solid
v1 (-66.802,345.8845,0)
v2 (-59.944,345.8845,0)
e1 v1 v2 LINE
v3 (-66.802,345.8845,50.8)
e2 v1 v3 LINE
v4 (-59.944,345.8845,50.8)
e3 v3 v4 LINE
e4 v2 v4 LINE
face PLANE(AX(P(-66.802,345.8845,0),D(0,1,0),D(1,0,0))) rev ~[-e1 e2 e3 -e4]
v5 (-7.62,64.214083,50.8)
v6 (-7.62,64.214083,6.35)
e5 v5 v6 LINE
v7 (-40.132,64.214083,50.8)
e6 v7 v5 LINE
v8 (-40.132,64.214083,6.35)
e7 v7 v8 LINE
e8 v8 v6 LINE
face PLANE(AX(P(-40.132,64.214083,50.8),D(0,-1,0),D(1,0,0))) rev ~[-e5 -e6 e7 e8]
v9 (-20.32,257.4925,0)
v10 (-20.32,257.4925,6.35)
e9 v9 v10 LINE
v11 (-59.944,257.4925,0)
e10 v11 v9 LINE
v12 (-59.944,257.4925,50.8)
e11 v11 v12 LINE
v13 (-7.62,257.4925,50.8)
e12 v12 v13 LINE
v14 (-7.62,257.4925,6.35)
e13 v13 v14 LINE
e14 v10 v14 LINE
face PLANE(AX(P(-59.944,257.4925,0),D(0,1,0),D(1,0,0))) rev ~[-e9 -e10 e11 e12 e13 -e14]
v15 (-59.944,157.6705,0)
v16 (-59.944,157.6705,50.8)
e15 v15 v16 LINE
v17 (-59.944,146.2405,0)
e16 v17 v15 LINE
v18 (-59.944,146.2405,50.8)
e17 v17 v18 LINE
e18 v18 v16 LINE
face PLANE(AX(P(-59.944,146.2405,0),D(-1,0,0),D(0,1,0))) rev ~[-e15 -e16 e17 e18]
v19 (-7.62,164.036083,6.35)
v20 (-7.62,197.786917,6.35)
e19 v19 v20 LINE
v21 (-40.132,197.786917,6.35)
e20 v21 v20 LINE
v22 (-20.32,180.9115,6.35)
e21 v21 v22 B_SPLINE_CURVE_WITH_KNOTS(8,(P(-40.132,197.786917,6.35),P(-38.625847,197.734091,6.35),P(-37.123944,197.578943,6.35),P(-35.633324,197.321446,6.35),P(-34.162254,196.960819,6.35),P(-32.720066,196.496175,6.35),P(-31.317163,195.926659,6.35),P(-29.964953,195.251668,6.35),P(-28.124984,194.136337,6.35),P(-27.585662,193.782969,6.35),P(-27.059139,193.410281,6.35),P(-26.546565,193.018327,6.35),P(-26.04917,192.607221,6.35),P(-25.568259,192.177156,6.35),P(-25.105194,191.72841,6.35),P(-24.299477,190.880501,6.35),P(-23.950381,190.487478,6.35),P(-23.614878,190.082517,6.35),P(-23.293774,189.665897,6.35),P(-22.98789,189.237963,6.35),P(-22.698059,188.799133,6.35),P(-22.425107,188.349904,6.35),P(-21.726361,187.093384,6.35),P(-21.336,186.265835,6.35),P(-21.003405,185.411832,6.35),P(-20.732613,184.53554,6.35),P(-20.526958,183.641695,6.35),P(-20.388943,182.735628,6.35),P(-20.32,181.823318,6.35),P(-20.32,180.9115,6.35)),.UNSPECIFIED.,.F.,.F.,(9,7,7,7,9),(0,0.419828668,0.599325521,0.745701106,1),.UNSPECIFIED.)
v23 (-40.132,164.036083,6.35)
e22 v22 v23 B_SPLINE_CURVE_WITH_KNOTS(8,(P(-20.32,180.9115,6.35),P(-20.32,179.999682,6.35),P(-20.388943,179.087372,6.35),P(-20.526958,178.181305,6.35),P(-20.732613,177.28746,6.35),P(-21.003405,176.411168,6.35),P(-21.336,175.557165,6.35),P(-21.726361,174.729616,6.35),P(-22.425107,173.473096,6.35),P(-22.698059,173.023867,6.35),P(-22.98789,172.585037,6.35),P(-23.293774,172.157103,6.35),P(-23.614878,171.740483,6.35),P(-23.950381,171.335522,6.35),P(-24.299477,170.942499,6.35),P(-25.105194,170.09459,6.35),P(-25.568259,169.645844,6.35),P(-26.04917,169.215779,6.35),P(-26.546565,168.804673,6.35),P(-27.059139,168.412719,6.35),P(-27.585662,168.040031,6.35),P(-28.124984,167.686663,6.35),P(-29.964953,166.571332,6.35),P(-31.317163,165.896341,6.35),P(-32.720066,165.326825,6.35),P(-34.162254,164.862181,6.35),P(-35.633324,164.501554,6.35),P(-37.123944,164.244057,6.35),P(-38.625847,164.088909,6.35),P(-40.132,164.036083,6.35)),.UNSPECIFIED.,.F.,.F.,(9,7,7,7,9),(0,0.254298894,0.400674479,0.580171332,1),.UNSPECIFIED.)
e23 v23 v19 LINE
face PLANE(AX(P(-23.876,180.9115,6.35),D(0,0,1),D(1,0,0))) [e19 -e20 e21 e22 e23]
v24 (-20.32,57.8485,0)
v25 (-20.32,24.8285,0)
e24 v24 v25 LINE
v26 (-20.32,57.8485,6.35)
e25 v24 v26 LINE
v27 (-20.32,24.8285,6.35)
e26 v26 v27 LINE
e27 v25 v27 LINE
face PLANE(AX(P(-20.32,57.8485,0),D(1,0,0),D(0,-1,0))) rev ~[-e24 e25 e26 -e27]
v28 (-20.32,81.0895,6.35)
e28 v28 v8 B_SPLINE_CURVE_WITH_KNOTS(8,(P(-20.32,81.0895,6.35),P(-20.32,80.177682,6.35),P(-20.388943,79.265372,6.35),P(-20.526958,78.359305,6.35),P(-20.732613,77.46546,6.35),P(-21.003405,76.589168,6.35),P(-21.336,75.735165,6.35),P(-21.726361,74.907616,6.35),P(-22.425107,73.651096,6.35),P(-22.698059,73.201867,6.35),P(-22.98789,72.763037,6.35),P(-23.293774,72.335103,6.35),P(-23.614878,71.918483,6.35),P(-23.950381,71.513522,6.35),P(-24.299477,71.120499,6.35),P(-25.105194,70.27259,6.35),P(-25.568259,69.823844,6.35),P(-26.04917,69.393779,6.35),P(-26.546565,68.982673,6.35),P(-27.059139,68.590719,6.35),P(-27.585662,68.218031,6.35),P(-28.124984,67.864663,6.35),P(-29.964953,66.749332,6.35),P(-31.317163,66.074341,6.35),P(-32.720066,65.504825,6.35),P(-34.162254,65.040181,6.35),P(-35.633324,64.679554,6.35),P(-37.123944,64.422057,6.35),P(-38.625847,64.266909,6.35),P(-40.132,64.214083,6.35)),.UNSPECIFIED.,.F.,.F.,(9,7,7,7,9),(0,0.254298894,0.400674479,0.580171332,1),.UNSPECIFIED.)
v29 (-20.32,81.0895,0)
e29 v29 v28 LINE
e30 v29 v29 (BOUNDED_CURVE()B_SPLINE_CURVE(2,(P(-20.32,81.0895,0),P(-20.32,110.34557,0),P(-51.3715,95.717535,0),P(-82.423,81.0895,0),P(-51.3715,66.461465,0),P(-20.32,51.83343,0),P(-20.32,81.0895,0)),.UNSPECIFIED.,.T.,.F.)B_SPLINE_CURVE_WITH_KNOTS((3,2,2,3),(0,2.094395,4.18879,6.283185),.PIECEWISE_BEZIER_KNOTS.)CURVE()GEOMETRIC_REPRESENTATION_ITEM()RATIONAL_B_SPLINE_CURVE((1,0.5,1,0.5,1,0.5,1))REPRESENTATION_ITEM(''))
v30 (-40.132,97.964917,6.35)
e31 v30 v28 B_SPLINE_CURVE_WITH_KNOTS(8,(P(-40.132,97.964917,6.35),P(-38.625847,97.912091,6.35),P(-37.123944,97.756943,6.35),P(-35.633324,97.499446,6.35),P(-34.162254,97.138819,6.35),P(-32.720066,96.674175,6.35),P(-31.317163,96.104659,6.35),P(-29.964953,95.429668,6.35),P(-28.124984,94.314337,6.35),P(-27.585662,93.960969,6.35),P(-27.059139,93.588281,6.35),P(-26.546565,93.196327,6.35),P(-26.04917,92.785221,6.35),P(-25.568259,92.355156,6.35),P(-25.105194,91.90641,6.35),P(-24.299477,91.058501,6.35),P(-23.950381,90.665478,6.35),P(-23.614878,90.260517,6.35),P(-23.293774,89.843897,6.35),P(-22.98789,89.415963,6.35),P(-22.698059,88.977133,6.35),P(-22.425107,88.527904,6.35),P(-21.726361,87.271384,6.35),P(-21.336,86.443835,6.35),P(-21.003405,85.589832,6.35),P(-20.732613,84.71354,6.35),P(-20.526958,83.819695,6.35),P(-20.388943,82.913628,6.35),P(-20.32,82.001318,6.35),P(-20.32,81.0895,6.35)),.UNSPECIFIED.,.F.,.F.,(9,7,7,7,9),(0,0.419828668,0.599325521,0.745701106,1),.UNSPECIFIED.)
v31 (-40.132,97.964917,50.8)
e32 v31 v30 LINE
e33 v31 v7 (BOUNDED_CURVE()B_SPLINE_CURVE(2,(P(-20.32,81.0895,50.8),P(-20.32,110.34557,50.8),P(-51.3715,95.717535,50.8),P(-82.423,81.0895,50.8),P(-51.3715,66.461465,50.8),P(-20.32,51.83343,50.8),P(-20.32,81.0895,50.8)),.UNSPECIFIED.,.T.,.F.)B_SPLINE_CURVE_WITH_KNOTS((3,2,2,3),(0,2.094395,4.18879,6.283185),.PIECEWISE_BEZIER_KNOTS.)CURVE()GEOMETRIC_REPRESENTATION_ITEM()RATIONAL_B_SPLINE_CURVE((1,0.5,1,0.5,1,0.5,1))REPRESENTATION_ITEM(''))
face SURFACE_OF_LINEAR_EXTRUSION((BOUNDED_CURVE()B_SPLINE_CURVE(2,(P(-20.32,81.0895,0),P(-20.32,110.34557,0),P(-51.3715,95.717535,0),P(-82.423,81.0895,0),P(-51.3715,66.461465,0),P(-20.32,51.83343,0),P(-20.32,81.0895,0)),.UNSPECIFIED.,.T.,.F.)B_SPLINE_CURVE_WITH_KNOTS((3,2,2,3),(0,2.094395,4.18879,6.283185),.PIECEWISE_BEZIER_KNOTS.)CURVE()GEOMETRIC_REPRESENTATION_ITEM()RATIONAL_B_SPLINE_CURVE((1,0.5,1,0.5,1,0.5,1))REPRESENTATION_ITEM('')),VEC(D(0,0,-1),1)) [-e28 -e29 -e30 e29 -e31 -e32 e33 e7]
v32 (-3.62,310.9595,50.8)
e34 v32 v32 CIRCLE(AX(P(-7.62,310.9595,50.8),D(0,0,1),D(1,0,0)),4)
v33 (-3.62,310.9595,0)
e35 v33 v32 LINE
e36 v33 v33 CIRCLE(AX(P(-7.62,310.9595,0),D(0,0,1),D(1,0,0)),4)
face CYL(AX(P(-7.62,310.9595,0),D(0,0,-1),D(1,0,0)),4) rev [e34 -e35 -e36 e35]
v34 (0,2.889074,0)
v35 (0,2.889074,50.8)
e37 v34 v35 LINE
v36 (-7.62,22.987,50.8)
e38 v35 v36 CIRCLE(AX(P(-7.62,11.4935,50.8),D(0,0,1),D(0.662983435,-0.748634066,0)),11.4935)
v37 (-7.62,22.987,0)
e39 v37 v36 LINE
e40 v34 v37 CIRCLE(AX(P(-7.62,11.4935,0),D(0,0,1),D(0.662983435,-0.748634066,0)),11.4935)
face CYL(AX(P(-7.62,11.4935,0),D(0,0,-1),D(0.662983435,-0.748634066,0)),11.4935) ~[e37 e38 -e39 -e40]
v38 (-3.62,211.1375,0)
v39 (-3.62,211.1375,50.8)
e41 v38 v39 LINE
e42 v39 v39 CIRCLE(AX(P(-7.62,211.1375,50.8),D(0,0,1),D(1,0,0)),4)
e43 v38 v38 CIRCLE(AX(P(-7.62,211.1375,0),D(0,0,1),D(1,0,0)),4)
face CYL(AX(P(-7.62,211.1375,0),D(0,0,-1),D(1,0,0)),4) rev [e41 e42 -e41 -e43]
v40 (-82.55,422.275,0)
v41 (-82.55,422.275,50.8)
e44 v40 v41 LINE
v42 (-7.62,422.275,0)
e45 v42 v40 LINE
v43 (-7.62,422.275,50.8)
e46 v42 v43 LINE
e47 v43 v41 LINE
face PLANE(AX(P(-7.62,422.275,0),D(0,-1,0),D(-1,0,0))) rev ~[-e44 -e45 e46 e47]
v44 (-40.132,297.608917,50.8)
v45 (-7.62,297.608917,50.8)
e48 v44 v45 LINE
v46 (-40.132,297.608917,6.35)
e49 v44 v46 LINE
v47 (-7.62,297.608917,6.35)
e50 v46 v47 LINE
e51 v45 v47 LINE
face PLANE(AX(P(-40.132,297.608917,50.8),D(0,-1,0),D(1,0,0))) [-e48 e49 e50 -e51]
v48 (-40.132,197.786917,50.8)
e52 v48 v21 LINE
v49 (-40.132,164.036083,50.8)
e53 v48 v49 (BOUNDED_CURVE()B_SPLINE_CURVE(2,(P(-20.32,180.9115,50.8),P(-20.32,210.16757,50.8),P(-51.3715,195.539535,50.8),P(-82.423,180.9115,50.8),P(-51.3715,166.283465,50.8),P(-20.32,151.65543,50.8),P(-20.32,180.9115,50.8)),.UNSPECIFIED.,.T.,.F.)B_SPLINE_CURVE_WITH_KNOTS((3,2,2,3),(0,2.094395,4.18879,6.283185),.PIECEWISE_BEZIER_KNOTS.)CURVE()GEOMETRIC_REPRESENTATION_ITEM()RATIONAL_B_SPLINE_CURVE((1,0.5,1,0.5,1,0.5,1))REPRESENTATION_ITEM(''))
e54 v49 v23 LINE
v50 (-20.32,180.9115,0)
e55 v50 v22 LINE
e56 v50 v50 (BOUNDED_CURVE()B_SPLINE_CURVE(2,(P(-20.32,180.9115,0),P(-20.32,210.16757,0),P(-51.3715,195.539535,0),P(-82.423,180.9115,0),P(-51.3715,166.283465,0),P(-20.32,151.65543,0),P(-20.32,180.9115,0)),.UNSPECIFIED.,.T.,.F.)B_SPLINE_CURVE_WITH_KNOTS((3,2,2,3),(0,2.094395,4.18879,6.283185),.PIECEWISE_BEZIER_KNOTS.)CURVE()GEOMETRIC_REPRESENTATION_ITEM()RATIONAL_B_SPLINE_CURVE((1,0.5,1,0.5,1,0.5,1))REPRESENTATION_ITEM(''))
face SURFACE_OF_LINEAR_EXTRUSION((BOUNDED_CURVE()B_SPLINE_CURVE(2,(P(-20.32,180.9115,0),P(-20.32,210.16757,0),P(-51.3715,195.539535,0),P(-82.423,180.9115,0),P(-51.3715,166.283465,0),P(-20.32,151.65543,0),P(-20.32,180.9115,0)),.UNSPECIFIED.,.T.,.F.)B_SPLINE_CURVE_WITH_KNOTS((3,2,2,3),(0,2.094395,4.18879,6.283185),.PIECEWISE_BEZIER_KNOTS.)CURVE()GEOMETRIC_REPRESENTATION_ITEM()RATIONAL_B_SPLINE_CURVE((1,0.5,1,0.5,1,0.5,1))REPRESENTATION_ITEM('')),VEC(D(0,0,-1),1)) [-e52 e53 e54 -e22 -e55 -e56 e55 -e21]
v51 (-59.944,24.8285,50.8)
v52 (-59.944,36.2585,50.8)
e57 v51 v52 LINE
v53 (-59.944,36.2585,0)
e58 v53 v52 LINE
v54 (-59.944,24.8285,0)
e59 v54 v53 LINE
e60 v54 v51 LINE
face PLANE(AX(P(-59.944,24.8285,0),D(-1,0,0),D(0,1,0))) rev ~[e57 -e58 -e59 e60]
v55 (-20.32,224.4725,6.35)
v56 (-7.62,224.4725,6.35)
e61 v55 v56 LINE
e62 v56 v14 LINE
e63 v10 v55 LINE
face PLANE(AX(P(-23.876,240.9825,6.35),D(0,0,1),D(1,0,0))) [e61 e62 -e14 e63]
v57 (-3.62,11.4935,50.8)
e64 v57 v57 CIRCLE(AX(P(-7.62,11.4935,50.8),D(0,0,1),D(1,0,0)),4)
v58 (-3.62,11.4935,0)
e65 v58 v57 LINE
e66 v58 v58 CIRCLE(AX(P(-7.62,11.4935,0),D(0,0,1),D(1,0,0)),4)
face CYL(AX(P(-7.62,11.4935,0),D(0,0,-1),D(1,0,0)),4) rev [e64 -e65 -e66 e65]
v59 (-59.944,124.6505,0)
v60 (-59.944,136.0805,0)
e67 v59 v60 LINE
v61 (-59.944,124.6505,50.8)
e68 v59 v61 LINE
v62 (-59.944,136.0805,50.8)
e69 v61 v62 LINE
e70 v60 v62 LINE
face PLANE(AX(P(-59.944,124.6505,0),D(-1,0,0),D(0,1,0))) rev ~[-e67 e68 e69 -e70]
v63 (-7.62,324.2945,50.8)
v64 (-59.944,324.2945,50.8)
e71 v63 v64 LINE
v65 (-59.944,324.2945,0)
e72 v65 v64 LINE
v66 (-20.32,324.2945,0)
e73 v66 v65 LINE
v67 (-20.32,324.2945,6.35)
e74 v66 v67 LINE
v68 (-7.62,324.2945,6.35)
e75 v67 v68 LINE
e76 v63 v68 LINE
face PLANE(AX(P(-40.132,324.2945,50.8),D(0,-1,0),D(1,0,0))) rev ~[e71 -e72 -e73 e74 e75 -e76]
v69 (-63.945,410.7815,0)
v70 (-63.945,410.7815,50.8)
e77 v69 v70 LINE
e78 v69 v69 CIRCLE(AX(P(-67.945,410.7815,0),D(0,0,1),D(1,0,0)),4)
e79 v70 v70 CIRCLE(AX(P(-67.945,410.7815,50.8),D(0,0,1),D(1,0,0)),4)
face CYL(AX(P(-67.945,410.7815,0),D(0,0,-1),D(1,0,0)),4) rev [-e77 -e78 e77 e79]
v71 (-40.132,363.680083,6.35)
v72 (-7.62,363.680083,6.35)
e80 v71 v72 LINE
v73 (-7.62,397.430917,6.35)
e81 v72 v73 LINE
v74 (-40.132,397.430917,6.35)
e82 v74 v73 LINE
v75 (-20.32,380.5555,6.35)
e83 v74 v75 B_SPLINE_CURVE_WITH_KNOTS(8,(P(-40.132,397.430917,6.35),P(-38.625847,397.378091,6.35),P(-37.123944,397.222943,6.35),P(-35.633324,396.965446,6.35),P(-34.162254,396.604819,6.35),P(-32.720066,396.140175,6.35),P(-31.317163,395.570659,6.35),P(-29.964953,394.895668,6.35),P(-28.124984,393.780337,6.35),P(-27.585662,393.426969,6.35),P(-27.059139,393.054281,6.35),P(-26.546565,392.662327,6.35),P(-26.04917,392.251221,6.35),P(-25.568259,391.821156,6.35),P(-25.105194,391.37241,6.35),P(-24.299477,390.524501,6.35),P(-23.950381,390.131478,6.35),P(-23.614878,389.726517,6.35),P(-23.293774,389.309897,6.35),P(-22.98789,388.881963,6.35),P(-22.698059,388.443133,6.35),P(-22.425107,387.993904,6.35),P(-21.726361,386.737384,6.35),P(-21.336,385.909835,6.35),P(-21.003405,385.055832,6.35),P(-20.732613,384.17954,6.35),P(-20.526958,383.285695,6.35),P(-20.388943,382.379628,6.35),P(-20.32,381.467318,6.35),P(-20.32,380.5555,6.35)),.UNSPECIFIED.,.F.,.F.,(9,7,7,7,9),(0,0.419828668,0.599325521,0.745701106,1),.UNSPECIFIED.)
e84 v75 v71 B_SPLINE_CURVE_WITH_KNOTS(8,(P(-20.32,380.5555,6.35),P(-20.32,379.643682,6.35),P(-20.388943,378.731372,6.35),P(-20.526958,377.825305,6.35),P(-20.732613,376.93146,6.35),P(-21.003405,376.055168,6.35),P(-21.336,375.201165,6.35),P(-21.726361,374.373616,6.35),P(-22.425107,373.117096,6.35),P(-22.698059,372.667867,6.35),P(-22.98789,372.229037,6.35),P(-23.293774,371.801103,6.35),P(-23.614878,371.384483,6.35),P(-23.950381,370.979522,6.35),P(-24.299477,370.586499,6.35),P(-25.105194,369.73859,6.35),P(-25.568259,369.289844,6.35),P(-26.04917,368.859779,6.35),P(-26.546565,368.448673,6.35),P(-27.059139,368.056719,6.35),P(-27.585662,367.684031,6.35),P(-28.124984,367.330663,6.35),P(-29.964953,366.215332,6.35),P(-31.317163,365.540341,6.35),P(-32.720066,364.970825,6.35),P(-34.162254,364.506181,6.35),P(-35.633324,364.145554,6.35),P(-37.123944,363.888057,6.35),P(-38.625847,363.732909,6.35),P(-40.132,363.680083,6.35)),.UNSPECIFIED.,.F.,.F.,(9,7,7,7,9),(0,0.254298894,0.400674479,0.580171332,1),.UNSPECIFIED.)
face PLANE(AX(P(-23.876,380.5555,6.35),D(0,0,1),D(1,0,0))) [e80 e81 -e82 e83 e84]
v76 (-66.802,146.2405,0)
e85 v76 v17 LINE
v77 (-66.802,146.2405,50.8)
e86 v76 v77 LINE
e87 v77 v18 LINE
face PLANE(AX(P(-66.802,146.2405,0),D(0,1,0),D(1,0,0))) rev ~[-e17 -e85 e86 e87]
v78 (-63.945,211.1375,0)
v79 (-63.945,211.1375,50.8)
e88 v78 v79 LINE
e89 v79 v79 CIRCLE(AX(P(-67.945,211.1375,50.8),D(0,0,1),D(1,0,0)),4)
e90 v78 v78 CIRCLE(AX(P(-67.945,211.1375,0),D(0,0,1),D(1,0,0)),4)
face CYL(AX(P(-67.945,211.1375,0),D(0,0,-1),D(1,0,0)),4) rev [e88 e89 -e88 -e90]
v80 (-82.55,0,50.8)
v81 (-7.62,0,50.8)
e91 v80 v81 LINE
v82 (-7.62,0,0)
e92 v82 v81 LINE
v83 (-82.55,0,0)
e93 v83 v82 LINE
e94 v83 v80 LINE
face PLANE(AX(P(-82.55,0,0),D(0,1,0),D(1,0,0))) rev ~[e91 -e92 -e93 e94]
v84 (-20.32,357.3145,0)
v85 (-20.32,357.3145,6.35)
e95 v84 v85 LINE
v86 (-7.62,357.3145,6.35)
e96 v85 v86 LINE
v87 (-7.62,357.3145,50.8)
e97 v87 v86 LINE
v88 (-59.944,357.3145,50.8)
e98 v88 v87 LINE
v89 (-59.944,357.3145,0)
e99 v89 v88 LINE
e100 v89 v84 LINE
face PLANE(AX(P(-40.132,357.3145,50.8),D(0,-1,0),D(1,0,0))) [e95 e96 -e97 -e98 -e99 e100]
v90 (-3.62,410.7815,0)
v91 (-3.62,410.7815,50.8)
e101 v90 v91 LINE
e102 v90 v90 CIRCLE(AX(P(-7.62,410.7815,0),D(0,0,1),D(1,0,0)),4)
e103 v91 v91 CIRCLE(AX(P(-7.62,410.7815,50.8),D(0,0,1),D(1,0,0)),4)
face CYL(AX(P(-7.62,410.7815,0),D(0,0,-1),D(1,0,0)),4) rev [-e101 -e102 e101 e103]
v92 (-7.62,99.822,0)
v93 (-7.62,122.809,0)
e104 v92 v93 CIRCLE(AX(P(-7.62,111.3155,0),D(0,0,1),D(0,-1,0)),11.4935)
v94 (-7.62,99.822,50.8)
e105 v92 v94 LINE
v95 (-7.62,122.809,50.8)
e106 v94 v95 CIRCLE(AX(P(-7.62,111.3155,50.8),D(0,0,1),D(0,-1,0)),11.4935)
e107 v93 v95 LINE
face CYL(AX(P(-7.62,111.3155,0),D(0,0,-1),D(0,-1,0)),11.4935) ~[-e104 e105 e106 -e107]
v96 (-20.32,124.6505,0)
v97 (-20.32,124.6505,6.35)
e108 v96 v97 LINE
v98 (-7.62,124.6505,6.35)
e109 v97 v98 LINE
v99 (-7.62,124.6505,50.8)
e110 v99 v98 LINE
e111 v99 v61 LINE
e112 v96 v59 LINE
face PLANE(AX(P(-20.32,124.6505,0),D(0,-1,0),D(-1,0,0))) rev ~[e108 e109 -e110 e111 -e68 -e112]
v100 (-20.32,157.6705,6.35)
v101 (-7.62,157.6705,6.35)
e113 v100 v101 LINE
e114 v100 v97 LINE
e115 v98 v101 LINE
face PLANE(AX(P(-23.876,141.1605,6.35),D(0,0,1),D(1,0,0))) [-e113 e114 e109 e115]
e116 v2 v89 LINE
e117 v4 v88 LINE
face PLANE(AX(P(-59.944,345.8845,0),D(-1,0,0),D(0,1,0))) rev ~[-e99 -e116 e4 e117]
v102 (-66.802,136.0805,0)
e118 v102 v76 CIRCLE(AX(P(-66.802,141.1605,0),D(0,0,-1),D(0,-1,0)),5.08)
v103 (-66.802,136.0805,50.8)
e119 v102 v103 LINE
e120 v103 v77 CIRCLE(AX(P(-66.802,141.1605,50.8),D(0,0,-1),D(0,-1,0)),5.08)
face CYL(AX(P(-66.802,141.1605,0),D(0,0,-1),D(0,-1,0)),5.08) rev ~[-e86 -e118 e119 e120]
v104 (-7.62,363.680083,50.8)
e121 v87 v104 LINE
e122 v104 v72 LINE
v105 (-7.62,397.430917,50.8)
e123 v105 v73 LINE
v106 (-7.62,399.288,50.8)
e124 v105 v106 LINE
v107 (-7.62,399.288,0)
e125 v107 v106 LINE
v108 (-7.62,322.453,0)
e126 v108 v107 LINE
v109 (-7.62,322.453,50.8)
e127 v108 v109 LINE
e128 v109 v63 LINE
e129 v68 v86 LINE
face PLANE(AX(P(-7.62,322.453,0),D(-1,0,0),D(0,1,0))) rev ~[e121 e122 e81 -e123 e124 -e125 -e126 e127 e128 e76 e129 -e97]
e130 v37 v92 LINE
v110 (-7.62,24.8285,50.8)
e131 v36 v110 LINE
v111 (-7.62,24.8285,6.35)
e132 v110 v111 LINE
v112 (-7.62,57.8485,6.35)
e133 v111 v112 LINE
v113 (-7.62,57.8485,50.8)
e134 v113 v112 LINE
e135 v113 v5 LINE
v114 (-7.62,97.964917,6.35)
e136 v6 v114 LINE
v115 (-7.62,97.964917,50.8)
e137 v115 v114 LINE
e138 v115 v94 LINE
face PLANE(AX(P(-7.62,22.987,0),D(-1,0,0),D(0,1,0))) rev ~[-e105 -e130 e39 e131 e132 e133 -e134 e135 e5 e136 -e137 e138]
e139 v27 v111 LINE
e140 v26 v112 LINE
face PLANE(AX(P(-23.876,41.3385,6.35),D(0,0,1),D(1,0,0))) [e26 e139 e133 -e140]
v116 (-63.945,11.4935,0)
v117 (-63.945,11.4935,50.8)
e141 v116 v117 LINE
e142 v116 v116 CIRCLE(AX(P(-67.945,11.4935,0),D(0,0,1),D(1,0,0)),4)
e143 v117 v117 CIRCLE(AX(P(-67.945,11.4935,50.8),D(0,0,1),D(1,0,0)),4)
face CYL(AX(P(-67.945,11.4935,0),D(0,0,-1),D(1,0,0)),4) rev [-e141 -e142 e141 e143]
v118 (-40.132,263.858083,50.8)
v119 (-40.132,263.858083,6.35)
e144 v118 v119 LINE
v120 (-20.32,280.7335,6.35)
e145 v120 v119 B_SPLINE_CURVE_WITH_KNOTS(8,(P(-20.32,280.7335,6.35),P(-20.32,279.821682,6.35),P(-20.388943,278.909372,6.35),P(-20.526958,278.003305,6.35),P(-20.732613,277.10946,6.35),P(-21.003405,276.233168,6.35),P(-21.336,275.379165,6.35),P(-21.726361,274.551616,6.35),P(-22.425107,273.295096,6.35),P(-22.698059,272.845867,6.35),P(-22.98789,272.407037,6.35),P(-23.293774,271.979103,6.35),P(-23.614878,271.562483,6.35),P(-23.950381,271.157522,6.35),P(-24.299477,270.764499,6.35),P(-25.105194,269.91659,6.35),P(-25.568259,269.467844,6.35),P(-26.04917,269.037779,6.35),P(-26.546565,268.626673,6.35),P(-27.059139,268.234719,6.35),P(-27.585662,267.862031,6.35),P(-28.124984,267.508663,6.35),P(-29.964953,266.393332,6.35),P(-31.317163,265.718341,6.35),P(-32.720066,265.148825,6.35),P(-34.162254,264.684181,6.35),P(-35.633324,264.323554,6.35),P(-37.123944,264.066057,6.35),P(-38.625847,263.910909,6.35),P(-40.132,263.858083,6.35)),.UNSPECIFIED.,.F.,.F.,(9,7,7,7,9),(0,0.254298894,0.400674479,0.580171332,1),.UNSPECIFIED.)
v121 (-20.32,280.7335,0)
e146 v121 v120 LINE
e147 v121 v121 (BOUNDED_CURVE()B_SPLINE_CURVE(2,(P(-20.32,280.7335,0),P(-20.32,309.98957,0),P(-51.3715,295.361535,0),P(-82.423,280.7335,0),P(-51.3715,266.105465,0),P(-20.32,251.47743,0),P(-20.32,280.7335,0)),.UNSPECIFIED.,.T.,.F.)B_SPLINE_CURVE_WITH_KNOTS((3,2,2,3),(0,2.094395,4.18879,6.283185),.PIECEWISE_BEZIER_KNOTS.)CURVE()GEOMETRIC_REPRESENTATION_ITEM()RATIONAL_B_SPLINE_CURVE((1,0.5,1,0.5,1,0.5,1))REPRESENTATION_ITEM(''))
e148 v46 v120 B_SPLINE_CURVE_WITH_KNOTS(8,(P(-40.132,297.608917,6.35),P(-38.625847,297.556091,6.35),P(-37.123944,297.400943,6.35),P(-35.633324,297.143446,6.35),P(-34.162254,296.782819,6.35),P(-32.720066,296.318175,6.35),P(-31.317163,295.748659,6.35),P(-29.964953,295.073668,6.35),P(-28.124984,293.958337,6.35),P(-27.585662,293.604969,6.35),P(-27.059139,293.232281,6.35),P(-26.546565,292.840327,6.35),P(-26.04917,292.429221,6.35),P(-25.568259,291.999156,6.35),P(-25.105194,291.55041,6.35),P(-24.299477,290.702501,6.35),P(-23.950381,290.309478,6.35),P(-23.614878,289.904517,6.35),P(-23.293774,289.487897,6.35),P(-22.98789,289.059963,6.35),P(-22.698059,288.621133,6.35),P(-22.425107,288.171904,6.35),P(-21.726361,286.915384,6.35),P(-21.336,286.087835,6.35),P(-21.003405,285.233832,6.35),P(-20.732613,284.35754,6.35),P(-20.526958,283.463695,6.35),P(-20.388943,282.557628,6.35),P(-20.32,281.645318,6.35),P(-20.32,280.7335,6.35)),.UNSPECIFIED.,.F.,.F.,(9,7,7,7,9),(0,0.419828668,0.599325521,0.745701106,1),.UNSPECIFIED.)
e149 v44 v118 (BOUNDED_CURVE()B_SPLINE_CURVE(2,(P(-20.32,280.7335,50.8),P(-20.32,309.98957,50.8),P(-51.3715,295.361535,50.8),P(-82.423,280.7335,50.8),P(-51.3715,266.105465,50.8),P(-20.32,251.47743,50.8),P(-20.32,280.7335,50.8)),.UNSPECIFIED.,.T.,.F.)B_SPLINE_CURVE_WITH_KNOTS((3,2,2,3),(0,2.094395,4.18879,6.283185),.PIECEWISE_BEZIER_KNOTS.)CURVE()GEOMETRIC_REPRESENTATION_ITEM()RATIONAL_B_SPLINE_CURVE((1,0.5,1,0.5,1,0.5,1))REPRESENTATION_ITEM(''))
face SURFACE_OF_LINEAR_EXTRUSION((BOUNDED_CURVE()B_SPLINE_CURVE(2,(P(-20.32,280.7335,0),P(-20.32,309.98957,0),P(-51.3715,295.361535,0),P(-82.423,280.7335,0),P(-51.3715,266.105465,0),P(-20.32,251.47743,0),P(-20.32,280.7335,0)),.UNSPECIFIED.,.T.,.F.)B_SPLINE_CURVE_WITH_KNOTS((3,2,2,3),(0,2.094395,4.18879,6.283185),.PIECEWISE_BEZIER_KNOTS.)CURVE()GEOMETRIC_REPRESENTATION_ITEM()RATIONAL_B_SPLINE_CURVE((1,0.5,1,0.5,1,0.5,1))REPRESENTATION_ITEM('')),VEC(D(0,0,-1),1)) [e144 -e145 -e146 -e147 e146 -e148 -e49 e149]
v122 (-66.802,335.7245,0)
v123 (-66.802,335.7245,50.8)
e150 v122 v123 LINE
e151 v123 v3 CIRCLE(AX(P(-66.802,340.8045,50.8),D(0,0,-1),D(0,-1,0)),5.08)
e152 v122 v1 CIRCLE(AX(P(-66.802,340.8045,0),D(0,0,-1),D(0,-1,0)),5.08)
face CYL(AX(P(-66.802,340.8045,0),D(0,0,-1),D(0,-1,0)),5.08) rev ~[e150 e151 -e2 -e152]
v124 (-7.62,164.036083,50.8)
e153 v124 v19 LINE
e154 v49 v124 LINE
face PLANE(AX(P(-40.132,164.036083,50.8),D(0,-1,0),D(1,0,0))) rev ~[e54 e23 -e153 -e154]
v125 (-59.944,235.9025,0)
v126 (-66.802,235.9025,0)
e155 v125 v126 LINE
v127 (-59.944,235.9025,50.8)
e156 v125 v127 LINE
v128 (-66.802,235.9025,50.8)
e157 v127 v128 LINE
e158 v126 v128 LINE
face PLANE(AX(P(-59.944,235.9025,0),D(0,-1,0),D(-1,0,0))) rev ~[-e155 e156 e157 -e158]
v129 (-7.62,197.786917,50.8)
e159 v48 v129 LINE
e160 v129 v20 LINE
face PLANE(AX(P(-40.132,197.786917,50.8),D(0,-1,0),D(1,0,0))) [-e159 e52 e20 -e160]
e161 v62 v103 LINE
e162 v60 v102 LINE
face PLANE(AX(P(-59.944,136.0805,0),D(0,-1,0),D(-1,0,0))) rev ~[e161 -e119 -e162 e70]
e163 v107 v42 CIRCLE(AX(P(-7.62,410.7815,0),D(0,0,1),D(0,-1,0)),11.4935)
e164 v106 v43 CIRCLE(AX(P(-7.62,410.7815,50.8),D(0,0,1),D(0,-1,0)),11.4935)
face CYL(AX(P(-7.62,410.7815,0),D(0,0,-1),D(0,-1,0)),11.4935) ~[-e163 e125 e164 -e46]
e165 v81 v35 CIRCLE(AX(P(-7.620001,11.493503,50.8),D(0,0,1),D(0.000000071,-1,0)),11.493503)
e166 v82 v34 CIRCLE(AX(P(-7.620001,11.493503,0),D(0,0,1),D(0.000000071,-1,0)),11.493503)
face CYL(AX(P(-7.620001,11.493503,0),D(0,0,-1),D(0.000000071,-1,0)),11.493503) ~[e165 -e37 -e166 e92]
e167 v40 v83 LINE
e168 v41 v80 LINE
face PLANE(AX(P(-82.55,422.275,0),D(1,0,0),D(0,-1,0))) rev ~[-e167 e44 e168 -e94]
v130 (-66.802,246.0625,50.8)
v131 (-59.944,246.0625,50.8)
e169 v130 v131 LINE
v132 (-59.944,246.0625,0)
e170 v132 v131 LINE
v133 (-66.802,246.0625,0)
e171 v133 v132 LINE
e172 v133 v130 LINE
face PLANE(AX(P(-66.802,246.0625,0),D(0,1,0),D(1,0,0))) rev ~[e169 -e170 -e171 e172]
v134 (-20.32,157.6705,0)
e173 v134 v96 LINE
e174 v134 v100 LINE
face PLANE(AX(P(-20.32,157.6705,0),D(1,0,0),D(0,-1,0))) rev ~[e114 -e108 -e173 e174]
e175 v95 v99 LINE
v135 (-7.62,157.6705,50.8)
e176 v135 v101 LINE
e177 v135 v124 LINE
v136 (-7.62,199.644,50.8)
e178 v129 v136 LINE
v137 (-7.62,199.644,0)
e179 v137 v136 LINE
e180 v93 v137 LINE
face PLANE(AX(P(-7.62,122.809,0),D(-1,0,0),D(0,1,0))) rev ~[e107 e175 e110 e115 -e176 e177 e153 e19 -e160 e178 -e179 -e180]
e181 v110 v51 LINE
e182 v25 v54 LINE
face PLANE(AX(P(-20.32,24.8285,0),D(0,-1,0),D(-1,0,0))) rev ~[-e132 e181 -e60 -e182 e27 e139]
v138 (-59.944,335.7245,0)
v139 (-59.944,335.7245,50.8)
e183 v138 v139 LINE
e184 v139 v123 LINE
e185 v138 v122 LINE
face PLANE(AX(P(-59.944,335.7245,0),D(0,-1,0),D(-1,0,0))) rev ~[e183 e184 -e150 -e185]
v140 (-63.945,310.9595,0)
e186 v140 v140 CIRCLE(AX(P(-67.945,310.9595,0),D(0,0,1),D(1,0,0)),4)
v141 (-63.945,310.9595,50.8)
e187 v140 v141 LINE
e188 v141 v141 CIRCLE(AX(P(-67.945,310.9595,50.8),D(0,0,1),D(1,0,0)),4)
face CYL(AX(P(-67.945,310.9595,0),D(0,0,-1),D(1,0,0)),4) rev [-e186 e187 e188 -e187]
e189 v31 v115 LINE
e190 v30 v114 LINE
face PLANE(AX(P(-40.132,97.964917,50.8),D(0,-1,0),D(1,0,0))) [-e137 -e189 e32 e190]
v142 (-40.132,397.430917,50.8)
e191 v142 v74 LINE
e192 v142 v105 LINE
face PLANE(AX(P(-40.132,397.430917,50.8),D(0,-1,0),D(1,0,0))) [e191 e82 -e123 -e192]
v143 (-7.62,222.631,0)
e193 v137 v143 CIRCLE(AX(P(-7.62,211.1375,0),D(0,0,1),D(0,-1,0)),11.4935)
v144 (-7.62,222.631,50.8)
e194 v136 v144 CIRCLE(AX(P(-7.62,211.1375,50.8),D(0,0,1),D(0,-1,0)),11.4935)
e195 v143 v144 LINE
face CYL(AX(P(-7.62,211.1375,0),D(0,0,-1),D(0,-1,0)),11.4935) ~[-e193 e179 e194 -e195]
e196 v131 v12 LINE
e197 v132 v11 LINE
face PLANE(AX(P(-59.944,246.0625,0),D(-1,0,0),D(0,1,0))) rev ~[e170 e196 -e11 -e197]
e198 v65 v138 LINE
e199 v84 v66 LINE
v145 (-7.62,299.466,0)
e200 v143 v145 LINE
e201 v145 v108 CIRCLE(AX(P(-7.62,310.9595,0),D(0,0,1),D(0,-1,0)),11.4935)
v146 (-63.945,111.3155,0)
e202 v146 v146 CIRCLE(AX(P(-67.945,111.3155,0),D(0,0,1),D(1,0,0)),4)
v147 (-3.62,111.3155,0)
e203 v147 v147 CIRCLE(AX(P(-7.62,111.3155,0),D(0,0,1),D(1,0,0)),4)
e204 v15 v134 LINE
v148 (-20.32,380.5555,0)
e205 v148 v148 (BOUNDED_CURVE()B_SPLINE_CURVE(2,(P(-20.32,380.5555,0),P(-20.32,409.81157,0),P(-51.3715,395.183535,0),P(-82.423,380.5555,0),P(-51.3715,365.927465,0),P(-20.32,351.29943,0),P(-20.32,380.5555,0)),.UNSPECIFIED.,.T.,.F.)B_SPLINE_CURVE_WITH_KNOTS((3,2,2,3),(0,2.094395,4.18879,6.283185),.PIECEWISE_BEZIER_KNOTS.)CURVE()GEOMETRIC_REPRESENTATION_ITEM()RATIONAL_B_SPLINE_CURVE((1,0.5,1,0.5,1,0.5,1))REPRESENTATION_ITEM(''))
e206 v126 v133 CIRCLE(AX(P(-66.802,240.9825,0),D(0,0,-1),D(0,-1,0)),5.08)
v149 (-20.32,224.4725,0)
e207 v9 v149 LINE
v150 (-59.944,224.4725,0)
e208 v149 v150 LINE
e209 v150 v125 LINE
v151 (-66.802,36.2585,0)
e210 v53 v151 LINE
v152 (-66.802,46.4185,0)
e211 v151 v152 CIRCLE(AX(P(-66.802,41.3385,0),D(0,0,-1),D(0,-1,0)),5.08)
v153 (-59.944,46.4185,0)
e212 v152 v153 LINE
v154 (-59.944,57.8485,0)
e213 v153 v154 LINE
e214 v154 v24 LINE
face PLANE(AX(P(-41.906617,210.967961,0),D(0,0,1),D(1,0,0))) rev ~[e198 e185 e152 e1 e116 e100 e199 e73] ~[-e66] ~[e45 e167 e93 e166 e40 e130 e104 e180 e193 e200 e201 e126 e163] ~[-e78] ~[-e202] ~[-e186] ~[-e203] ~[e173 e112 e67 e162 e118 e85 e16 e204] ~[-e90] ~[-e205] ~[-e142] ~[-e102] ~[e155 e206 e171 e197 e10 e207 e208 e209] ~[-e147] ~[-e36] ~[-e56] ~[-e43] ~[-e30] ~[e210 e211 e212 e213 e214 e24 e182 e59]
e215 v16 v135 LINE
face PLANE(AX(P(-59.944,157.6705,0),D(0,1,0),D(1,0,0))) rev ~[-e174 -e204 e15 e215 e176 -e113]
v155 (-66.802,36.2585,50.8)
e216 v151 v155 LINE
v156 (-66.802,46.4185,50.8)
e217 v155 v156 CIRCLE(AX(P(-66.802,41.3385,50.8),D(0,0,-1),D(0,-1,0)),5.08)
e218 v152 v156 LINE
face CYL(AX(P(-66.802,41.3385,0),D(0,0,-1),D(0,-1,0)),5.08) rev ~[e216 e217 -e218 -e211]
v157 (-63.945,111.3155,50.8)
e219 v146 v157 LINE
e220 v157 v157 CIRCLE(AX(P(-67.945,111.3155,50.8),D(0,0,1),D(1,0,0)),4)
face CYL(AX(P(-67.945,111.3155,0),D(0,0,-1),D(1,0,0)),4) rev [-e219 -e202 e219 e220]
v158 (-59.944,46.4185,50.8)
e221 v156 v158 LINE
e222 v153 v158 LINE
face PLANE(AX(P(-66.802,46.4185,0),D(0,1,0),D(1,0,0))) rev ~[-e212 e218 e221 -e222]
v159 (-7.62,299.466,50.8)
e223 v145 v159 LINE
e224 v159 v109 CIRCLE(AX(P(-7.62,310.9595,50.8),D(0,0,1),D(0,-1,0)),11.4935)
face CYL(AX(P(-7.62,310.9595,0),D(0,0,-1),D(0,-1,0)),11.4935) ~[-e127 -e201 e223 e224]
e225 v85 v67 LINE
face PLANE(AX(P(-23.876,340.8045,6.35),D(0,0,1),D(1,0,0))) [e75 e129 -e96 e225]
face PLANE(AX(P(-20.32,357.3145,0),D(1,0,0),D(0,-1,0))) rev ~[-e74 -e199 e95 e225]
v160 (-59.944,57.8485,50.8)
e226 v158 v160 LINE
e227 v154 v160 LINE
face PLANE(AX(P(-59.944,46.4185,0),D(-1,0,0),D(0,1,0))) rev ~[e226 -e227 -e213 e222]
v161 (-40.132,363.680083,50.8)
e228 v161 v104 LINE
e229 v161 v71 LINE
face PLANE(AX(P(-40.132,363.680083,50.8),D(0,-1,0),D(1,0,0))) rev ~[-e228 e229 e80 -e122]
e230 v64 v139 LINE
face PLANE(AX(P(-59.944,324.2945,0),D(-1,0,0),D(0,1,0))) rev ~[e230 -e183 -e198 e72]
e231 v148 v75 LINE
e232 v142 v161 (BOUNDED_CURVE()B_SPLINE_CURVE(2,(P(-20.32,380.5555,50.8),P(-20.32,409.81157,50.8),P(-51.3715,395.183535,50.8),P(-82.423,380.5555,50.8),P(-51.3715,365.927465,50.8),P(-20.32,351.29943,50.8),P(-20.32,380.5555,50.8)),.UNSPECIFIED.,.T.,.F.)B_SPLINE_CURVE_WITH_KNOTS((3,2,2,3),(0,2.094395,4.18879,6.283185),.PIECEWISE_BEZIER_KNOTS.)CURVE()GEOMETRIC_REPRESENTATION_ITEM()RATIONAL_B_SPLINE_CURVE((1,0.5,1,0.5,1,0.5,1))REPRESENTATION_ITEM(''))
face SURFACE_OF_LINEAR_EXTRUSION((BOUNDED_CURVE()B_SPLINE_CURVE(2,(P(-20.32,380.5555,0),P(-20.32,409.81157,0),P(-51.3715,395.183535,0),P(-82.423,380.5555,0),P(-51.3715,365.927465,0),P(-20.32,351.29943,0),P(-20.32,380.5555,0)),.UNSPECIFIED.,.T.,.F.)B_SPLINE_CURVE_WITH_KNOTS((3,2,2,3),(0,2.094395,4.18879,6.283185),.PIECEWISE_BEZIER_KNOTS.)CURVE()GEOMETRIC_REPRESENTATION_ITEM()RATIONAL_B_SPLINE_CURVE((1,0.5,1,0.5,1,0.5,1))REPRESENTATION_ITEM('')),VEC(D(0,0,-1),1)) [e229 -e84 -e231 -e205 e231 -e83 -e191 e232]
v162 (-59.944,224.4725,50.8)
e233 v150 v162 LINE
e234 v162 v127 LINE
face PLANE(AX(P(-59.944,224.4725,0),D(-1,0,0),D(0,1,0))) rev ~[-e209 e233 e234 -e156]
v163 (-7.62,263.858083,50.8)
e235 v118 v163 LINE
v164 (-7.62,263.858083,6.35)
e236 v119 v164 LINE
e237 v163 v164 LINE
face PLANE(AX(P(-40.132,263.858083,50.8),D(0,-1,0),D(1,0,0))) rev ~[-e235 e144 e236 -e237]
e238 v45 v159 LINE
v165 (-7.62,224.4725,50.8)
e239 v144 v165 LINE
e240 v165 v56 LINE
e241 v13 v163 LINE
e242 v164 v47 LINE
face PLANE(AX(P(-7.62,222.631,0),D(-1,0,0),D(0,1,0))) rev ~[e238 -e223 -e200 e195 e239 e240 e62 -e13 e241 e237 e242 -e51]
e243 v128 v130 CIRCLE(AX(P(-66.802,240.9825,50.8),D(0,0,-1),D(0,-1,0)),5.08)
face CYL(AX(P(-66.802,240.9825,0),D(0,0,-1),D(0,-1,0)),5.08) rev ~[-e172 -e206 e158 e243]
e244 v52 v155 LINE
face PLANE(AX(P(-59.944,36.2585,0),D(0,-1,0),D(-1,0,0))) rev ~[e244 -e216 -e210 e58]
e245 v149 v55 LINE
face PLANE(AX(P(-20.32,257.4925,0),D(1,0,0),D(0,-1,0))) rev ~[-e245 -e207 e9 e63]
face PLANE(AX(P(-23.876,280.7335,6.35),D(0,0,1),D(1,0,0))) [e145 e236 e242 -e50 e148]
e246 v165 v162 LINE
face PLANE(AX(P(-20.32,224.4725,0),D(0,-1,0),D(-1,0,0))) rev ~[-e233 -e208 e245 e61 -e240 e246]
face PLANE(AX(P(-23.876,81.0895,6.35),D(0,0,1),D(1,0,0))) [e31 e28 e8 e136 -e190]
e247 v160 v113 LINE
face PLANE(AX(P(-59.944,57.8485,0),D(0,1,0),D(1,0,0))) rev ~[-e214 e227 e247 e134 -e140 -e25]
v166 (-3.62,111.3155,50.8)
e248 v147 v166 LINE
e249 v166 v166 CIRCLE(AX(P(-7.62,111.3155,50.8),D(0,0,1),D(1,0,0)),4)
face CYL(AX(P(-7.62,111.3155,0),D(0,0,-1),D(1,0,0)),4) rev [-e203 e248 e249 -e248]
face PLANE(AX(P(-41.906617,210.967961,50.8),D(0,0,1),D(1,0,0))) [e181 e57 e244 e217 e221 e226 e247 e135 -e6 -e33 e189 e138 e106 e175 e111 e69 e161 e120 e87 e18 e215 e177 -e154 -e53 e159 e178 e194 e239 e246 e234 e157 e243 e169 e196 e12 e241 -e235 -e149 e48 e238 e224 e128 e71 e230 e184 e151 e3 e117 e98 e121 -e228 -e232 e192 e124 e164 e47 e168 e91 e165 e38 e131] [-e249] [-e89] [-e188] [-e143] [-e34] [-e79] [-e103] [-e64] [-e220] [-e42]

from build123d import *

# Parameters (mm, degrees)
F0_R     = 4
F1_DEPTH = 50.8
F3_W     = 32.512
F3_H     = 33.750834
F3_H_2   = 33.02
F4_DEPTH = 44.45


with BuildPart() as f1:
    # F0 (on Top) → F1 (new body)
    with BuildSketch(Plane.XY):
        with BuildLine():
            ThreePointArc((-7.62, 399.288), (3.8735, 410.7815), (-7.62, 422.275))
            Line((-7.62, 422.275), (-82.55, 422.275))
            Line((-82.55, 422.275), (-82.55, 0))
            Line((-82.55, 0), (-7.62, 0))
            ThreePointArc((-7.62, 0), (-3.545348, 0.746512), (0, 2.889074))
            ThreePointArc((0, 2.889074), (3.126988, 15.568152), (-7.62, 22.987))
            Line((-7.62, 22.987), (-7.62, 99.822))
            ThreePointArc((-7.62, 99.822), (3.8735, 111.3155), (-7.62, 122.809))
            Line((-7.62, 122.809), (-7.62, 199.644))
            ThreePointArc((-7.62, 199.644), (3.8735, 211.1375), (-7.62, 222.631))
            Line((-7.62, 222.631), (-7.62, 299.466))
            ThreePointArc((-7.62, 299.466), (3.8735, 310.9595), (-7.62, 322.453))
            Line((-7.62, 322.453), (-7.62, 399.288))
        make_face()
        with Locations((-67.945, 11.4935)):
            Circle(F0_R, mode=Mode.SUBTRACT)
        with BuildLine():
            Line((-59.944, 57.8485), (-20.32, 57.8485))
            Line((-20.32, 57.8485), (-20.32, 24.8285))
            Line((-20.32, 24.8285), (-59.944, 24.8285))
            Line((-59.944, 24.8285), (-59.944, 36.2585))
            Line((-59.944, 36.2585), (-66.802, 36.2585))
            ThreePointArc((-66.802, 36.2585), (-71.882, 41.3385), (-66.802, 46.4185))
            Line((-66.802, 46.4185), (-59.944, 46.4185))
            Line((-59.944, 46.4185), (-59.944, 57.8485))
        make_face(mode=Mode.SUBTRACT)
        with BuildLine():
            add(Edge.make_bspline(
                [(-20.32, 81.0895), (-20.32, 110.34557), (-51.3715, 95.717535), (-82.423, 81.0895), (-51.3715, 66.461465), (-20.32, 51.83343), (-20.32, 81.0895)],
                knots=[0, 0, 0, 2.094395, 2.094395, 4.18879, 4.18879, 6.283185, 6.283185, 6.283185], degree=2, weights=[1, 0.5, 1, 0.5, 1, 0.5, 1]))
        make_face(mode=Mode.SUBTRACT)
        with Locations((-67.945, 111.3155)):
            Circle(F0_R, mode=Mode.SUBTRACT)
        with BuildLine():
            Line((-59.944, 157.6705), (-20.32, 157.6705))
            Line((-20.32, 157.6705), (-20.32, 124.6505))
            Line((-20.32, 124.6505), (-59.944, 124.6505))
            Line((-59.944, 124.6505), (-59.944, 136.0805))
            Line((-59.944, 136.0805), (-66.802, 136.0805))
            ThreePointArc((-66.802, 136.0805), (-71.882, 141.1605), (-66.802, 146.2405))
            Line((-66.802, 146.2405), (-59.944, 146.2405))
            Line((-59.944, 146.2405), (-59.944, 157.6705))
        make_face(mode=Mode.SUBTRACT)
        with BuildLine():
            add(Edge.make_bspline(
                [(-20.32, 180.9115), (-20.32, 210.16757), (-51.3715, 195.539535), (-82.423, 180.9115), (-51.3715, 166.283465), (-20.32, 151.65543), (-20.32, 180.9115)],
                knots=[0, 0, 0, 2.094395, 2.094395, 4.18879, 4.18879, 6.283185, 6.283185, 6.283185], degree=2, weights=[1, 0.5, 1, 0.5, 1, 0.5, 1]))
        make_face(mode=Mode.SUBTRACT)
        with Locations((-7.62, 11.4935)):
            Circle(F0_R, mode=Mode.SUBTRACT)
        with Locations((-7.62, 111.3155)):
            Circle(F0_R, mode=Mode.SUBTRACT)
        with Locations((-67.945, 211.1375)):
            Circle(F0_R, mode=Mode.SUBTRACT)
        with Locations((-67.945, 310.9595)):
            Circle(F0_R, mode=Mode.SUBTRACT)
        with BuildLine():
            Line((-59.944, 257.4925), (-20.32, 257.4925))
            Line((-20.32, 257.4925), (-20.32, 224.4725))
            Line((-20.32, 224.4725), (-59.944, 224.4725))
            Line((-59.944, 224.4725), (-59.944, 235.9025))
            Line((-59.944, 235.9025), (-66.802, 235.9025))
            ThreePointArc((-66.802, 235.9025), (-71.882, 240.9825), (-66.802, 246.0625))
            Line((-66.802, 246.0625), (-59.944, 246.0625))
            Line((-59.944, 246.0625), (-59.944, 257.4925))
        make_face(mode=Mode.SUBTRACT)
        with BuildLine():
            add(Edge.make_bspline(
                [(-20.32, 280.7335), (-20.32, 309.98957), (-51.3715, 295.361535), (-82.423, 280.7335), (-51.3715, 266.105465), (-20.32, 251.47743), (-20.32, 280.7335)],
                knots=[0, 0, 0, 2.094395, 2.094395, 4.18879, 4.18879, 6.283185, 6.283185, 6.283185], degree=2, weights=[1, 0.5, 1, 0.5, 1, 0.5, 1]))
        make_face(mode=Mode.SUBTRACT)
        with Locations((-67.945, 410.7815)):
            Circle(F0_R, mode=Mode.SUBTRACT)
        with BuildLine():
            Line((-59.944, 357.3145), (-20.32, 357.3145))
            Line((-20.32, 357.3145), (-20.32, 324.2945))
            Line((-20.32, 324.2945), (-59.944, 324.2945))
            Line((-59.944, 324.2945), (-59.944, 335.7245))
            Line((-59.944, 335.7245), (-66.802, 335.7245))
            ThreePointArc((-66.802, 335.7245), (-71.882, 340.8045), (-66.802, 345.8845))
            Line((-66.802, 345.8845), (-59.944, 345.8845))
            Line((-59.944, 345.8845), (-59.944, 357.3145))
        make_face(mode=Mode.SUBTRACT)
        with BuildLine():
            add(Edge.make_bspline(
                [(-20.32, 380.5555), (-20.32, 409.81157), (-51.3715, 395.183535), (-82.423, 380.5555), (-51.3715, 365.927465), (-20.32, 351.29943), (-20.32, 380.5555)],
                knots=[0, 0, 0, 2.094395, 2.094395, 4.18879, 4.18879, 6.283185, 6.283185, 6.283185], degree=2, weights=[1, 0.5, 1, 0.5, 1, 0.5, 1]))
        make_face(mode=Mode.SUBTRACT)
        with Locations((-7.62, 211.1375)):
            Circle(F0_R, mode=Mode.SUBTRACT)
        with Locations((-7.62, 310.9595)):
            Circle(F0_R, mode=Mode.SUBTRACT)
        with Locations((-7.62, 410.7815)):
            Circle(F0_R, mode=Mode.SUBTRACT)
    extrude(amount=F1_DEPTH)

    # F3 (on face) → F4 (cut)
    with BuildSketch(Plane.XY.offset(50.8)):
        with Locations((-23.876, 81.0895)):
            Rectangle(F3_W, F3_H)
        with Locations((-23.876, 41.3385)):
            Rectangle(F3_W, F3_H_2)
        with Locations((-23.876, 141.1605)):
            Rectangle(F3_W, F3_H_2)
        with Locations((-23.876, 180.9115)):
            Rectangle(F3_W, F3_H)
        with Locations((-23.876, 240.9825)):
            Rectangle(F3_W, F3_H_2)
        with Locations((-23.876, 280.7335)):
            Rectangle(F3_W, F3_H)
        with Locations((-23.876, 340.8045)):
            Rectangle(F3_W, F3_H_2)
        with Locations((-23.876, 380.5555)):
            Rectangle(F3_W, F3_H)
    extrude(amount=-F4_DEPTH, mode=Mode.SUBTRACT)


solid = f1.part
